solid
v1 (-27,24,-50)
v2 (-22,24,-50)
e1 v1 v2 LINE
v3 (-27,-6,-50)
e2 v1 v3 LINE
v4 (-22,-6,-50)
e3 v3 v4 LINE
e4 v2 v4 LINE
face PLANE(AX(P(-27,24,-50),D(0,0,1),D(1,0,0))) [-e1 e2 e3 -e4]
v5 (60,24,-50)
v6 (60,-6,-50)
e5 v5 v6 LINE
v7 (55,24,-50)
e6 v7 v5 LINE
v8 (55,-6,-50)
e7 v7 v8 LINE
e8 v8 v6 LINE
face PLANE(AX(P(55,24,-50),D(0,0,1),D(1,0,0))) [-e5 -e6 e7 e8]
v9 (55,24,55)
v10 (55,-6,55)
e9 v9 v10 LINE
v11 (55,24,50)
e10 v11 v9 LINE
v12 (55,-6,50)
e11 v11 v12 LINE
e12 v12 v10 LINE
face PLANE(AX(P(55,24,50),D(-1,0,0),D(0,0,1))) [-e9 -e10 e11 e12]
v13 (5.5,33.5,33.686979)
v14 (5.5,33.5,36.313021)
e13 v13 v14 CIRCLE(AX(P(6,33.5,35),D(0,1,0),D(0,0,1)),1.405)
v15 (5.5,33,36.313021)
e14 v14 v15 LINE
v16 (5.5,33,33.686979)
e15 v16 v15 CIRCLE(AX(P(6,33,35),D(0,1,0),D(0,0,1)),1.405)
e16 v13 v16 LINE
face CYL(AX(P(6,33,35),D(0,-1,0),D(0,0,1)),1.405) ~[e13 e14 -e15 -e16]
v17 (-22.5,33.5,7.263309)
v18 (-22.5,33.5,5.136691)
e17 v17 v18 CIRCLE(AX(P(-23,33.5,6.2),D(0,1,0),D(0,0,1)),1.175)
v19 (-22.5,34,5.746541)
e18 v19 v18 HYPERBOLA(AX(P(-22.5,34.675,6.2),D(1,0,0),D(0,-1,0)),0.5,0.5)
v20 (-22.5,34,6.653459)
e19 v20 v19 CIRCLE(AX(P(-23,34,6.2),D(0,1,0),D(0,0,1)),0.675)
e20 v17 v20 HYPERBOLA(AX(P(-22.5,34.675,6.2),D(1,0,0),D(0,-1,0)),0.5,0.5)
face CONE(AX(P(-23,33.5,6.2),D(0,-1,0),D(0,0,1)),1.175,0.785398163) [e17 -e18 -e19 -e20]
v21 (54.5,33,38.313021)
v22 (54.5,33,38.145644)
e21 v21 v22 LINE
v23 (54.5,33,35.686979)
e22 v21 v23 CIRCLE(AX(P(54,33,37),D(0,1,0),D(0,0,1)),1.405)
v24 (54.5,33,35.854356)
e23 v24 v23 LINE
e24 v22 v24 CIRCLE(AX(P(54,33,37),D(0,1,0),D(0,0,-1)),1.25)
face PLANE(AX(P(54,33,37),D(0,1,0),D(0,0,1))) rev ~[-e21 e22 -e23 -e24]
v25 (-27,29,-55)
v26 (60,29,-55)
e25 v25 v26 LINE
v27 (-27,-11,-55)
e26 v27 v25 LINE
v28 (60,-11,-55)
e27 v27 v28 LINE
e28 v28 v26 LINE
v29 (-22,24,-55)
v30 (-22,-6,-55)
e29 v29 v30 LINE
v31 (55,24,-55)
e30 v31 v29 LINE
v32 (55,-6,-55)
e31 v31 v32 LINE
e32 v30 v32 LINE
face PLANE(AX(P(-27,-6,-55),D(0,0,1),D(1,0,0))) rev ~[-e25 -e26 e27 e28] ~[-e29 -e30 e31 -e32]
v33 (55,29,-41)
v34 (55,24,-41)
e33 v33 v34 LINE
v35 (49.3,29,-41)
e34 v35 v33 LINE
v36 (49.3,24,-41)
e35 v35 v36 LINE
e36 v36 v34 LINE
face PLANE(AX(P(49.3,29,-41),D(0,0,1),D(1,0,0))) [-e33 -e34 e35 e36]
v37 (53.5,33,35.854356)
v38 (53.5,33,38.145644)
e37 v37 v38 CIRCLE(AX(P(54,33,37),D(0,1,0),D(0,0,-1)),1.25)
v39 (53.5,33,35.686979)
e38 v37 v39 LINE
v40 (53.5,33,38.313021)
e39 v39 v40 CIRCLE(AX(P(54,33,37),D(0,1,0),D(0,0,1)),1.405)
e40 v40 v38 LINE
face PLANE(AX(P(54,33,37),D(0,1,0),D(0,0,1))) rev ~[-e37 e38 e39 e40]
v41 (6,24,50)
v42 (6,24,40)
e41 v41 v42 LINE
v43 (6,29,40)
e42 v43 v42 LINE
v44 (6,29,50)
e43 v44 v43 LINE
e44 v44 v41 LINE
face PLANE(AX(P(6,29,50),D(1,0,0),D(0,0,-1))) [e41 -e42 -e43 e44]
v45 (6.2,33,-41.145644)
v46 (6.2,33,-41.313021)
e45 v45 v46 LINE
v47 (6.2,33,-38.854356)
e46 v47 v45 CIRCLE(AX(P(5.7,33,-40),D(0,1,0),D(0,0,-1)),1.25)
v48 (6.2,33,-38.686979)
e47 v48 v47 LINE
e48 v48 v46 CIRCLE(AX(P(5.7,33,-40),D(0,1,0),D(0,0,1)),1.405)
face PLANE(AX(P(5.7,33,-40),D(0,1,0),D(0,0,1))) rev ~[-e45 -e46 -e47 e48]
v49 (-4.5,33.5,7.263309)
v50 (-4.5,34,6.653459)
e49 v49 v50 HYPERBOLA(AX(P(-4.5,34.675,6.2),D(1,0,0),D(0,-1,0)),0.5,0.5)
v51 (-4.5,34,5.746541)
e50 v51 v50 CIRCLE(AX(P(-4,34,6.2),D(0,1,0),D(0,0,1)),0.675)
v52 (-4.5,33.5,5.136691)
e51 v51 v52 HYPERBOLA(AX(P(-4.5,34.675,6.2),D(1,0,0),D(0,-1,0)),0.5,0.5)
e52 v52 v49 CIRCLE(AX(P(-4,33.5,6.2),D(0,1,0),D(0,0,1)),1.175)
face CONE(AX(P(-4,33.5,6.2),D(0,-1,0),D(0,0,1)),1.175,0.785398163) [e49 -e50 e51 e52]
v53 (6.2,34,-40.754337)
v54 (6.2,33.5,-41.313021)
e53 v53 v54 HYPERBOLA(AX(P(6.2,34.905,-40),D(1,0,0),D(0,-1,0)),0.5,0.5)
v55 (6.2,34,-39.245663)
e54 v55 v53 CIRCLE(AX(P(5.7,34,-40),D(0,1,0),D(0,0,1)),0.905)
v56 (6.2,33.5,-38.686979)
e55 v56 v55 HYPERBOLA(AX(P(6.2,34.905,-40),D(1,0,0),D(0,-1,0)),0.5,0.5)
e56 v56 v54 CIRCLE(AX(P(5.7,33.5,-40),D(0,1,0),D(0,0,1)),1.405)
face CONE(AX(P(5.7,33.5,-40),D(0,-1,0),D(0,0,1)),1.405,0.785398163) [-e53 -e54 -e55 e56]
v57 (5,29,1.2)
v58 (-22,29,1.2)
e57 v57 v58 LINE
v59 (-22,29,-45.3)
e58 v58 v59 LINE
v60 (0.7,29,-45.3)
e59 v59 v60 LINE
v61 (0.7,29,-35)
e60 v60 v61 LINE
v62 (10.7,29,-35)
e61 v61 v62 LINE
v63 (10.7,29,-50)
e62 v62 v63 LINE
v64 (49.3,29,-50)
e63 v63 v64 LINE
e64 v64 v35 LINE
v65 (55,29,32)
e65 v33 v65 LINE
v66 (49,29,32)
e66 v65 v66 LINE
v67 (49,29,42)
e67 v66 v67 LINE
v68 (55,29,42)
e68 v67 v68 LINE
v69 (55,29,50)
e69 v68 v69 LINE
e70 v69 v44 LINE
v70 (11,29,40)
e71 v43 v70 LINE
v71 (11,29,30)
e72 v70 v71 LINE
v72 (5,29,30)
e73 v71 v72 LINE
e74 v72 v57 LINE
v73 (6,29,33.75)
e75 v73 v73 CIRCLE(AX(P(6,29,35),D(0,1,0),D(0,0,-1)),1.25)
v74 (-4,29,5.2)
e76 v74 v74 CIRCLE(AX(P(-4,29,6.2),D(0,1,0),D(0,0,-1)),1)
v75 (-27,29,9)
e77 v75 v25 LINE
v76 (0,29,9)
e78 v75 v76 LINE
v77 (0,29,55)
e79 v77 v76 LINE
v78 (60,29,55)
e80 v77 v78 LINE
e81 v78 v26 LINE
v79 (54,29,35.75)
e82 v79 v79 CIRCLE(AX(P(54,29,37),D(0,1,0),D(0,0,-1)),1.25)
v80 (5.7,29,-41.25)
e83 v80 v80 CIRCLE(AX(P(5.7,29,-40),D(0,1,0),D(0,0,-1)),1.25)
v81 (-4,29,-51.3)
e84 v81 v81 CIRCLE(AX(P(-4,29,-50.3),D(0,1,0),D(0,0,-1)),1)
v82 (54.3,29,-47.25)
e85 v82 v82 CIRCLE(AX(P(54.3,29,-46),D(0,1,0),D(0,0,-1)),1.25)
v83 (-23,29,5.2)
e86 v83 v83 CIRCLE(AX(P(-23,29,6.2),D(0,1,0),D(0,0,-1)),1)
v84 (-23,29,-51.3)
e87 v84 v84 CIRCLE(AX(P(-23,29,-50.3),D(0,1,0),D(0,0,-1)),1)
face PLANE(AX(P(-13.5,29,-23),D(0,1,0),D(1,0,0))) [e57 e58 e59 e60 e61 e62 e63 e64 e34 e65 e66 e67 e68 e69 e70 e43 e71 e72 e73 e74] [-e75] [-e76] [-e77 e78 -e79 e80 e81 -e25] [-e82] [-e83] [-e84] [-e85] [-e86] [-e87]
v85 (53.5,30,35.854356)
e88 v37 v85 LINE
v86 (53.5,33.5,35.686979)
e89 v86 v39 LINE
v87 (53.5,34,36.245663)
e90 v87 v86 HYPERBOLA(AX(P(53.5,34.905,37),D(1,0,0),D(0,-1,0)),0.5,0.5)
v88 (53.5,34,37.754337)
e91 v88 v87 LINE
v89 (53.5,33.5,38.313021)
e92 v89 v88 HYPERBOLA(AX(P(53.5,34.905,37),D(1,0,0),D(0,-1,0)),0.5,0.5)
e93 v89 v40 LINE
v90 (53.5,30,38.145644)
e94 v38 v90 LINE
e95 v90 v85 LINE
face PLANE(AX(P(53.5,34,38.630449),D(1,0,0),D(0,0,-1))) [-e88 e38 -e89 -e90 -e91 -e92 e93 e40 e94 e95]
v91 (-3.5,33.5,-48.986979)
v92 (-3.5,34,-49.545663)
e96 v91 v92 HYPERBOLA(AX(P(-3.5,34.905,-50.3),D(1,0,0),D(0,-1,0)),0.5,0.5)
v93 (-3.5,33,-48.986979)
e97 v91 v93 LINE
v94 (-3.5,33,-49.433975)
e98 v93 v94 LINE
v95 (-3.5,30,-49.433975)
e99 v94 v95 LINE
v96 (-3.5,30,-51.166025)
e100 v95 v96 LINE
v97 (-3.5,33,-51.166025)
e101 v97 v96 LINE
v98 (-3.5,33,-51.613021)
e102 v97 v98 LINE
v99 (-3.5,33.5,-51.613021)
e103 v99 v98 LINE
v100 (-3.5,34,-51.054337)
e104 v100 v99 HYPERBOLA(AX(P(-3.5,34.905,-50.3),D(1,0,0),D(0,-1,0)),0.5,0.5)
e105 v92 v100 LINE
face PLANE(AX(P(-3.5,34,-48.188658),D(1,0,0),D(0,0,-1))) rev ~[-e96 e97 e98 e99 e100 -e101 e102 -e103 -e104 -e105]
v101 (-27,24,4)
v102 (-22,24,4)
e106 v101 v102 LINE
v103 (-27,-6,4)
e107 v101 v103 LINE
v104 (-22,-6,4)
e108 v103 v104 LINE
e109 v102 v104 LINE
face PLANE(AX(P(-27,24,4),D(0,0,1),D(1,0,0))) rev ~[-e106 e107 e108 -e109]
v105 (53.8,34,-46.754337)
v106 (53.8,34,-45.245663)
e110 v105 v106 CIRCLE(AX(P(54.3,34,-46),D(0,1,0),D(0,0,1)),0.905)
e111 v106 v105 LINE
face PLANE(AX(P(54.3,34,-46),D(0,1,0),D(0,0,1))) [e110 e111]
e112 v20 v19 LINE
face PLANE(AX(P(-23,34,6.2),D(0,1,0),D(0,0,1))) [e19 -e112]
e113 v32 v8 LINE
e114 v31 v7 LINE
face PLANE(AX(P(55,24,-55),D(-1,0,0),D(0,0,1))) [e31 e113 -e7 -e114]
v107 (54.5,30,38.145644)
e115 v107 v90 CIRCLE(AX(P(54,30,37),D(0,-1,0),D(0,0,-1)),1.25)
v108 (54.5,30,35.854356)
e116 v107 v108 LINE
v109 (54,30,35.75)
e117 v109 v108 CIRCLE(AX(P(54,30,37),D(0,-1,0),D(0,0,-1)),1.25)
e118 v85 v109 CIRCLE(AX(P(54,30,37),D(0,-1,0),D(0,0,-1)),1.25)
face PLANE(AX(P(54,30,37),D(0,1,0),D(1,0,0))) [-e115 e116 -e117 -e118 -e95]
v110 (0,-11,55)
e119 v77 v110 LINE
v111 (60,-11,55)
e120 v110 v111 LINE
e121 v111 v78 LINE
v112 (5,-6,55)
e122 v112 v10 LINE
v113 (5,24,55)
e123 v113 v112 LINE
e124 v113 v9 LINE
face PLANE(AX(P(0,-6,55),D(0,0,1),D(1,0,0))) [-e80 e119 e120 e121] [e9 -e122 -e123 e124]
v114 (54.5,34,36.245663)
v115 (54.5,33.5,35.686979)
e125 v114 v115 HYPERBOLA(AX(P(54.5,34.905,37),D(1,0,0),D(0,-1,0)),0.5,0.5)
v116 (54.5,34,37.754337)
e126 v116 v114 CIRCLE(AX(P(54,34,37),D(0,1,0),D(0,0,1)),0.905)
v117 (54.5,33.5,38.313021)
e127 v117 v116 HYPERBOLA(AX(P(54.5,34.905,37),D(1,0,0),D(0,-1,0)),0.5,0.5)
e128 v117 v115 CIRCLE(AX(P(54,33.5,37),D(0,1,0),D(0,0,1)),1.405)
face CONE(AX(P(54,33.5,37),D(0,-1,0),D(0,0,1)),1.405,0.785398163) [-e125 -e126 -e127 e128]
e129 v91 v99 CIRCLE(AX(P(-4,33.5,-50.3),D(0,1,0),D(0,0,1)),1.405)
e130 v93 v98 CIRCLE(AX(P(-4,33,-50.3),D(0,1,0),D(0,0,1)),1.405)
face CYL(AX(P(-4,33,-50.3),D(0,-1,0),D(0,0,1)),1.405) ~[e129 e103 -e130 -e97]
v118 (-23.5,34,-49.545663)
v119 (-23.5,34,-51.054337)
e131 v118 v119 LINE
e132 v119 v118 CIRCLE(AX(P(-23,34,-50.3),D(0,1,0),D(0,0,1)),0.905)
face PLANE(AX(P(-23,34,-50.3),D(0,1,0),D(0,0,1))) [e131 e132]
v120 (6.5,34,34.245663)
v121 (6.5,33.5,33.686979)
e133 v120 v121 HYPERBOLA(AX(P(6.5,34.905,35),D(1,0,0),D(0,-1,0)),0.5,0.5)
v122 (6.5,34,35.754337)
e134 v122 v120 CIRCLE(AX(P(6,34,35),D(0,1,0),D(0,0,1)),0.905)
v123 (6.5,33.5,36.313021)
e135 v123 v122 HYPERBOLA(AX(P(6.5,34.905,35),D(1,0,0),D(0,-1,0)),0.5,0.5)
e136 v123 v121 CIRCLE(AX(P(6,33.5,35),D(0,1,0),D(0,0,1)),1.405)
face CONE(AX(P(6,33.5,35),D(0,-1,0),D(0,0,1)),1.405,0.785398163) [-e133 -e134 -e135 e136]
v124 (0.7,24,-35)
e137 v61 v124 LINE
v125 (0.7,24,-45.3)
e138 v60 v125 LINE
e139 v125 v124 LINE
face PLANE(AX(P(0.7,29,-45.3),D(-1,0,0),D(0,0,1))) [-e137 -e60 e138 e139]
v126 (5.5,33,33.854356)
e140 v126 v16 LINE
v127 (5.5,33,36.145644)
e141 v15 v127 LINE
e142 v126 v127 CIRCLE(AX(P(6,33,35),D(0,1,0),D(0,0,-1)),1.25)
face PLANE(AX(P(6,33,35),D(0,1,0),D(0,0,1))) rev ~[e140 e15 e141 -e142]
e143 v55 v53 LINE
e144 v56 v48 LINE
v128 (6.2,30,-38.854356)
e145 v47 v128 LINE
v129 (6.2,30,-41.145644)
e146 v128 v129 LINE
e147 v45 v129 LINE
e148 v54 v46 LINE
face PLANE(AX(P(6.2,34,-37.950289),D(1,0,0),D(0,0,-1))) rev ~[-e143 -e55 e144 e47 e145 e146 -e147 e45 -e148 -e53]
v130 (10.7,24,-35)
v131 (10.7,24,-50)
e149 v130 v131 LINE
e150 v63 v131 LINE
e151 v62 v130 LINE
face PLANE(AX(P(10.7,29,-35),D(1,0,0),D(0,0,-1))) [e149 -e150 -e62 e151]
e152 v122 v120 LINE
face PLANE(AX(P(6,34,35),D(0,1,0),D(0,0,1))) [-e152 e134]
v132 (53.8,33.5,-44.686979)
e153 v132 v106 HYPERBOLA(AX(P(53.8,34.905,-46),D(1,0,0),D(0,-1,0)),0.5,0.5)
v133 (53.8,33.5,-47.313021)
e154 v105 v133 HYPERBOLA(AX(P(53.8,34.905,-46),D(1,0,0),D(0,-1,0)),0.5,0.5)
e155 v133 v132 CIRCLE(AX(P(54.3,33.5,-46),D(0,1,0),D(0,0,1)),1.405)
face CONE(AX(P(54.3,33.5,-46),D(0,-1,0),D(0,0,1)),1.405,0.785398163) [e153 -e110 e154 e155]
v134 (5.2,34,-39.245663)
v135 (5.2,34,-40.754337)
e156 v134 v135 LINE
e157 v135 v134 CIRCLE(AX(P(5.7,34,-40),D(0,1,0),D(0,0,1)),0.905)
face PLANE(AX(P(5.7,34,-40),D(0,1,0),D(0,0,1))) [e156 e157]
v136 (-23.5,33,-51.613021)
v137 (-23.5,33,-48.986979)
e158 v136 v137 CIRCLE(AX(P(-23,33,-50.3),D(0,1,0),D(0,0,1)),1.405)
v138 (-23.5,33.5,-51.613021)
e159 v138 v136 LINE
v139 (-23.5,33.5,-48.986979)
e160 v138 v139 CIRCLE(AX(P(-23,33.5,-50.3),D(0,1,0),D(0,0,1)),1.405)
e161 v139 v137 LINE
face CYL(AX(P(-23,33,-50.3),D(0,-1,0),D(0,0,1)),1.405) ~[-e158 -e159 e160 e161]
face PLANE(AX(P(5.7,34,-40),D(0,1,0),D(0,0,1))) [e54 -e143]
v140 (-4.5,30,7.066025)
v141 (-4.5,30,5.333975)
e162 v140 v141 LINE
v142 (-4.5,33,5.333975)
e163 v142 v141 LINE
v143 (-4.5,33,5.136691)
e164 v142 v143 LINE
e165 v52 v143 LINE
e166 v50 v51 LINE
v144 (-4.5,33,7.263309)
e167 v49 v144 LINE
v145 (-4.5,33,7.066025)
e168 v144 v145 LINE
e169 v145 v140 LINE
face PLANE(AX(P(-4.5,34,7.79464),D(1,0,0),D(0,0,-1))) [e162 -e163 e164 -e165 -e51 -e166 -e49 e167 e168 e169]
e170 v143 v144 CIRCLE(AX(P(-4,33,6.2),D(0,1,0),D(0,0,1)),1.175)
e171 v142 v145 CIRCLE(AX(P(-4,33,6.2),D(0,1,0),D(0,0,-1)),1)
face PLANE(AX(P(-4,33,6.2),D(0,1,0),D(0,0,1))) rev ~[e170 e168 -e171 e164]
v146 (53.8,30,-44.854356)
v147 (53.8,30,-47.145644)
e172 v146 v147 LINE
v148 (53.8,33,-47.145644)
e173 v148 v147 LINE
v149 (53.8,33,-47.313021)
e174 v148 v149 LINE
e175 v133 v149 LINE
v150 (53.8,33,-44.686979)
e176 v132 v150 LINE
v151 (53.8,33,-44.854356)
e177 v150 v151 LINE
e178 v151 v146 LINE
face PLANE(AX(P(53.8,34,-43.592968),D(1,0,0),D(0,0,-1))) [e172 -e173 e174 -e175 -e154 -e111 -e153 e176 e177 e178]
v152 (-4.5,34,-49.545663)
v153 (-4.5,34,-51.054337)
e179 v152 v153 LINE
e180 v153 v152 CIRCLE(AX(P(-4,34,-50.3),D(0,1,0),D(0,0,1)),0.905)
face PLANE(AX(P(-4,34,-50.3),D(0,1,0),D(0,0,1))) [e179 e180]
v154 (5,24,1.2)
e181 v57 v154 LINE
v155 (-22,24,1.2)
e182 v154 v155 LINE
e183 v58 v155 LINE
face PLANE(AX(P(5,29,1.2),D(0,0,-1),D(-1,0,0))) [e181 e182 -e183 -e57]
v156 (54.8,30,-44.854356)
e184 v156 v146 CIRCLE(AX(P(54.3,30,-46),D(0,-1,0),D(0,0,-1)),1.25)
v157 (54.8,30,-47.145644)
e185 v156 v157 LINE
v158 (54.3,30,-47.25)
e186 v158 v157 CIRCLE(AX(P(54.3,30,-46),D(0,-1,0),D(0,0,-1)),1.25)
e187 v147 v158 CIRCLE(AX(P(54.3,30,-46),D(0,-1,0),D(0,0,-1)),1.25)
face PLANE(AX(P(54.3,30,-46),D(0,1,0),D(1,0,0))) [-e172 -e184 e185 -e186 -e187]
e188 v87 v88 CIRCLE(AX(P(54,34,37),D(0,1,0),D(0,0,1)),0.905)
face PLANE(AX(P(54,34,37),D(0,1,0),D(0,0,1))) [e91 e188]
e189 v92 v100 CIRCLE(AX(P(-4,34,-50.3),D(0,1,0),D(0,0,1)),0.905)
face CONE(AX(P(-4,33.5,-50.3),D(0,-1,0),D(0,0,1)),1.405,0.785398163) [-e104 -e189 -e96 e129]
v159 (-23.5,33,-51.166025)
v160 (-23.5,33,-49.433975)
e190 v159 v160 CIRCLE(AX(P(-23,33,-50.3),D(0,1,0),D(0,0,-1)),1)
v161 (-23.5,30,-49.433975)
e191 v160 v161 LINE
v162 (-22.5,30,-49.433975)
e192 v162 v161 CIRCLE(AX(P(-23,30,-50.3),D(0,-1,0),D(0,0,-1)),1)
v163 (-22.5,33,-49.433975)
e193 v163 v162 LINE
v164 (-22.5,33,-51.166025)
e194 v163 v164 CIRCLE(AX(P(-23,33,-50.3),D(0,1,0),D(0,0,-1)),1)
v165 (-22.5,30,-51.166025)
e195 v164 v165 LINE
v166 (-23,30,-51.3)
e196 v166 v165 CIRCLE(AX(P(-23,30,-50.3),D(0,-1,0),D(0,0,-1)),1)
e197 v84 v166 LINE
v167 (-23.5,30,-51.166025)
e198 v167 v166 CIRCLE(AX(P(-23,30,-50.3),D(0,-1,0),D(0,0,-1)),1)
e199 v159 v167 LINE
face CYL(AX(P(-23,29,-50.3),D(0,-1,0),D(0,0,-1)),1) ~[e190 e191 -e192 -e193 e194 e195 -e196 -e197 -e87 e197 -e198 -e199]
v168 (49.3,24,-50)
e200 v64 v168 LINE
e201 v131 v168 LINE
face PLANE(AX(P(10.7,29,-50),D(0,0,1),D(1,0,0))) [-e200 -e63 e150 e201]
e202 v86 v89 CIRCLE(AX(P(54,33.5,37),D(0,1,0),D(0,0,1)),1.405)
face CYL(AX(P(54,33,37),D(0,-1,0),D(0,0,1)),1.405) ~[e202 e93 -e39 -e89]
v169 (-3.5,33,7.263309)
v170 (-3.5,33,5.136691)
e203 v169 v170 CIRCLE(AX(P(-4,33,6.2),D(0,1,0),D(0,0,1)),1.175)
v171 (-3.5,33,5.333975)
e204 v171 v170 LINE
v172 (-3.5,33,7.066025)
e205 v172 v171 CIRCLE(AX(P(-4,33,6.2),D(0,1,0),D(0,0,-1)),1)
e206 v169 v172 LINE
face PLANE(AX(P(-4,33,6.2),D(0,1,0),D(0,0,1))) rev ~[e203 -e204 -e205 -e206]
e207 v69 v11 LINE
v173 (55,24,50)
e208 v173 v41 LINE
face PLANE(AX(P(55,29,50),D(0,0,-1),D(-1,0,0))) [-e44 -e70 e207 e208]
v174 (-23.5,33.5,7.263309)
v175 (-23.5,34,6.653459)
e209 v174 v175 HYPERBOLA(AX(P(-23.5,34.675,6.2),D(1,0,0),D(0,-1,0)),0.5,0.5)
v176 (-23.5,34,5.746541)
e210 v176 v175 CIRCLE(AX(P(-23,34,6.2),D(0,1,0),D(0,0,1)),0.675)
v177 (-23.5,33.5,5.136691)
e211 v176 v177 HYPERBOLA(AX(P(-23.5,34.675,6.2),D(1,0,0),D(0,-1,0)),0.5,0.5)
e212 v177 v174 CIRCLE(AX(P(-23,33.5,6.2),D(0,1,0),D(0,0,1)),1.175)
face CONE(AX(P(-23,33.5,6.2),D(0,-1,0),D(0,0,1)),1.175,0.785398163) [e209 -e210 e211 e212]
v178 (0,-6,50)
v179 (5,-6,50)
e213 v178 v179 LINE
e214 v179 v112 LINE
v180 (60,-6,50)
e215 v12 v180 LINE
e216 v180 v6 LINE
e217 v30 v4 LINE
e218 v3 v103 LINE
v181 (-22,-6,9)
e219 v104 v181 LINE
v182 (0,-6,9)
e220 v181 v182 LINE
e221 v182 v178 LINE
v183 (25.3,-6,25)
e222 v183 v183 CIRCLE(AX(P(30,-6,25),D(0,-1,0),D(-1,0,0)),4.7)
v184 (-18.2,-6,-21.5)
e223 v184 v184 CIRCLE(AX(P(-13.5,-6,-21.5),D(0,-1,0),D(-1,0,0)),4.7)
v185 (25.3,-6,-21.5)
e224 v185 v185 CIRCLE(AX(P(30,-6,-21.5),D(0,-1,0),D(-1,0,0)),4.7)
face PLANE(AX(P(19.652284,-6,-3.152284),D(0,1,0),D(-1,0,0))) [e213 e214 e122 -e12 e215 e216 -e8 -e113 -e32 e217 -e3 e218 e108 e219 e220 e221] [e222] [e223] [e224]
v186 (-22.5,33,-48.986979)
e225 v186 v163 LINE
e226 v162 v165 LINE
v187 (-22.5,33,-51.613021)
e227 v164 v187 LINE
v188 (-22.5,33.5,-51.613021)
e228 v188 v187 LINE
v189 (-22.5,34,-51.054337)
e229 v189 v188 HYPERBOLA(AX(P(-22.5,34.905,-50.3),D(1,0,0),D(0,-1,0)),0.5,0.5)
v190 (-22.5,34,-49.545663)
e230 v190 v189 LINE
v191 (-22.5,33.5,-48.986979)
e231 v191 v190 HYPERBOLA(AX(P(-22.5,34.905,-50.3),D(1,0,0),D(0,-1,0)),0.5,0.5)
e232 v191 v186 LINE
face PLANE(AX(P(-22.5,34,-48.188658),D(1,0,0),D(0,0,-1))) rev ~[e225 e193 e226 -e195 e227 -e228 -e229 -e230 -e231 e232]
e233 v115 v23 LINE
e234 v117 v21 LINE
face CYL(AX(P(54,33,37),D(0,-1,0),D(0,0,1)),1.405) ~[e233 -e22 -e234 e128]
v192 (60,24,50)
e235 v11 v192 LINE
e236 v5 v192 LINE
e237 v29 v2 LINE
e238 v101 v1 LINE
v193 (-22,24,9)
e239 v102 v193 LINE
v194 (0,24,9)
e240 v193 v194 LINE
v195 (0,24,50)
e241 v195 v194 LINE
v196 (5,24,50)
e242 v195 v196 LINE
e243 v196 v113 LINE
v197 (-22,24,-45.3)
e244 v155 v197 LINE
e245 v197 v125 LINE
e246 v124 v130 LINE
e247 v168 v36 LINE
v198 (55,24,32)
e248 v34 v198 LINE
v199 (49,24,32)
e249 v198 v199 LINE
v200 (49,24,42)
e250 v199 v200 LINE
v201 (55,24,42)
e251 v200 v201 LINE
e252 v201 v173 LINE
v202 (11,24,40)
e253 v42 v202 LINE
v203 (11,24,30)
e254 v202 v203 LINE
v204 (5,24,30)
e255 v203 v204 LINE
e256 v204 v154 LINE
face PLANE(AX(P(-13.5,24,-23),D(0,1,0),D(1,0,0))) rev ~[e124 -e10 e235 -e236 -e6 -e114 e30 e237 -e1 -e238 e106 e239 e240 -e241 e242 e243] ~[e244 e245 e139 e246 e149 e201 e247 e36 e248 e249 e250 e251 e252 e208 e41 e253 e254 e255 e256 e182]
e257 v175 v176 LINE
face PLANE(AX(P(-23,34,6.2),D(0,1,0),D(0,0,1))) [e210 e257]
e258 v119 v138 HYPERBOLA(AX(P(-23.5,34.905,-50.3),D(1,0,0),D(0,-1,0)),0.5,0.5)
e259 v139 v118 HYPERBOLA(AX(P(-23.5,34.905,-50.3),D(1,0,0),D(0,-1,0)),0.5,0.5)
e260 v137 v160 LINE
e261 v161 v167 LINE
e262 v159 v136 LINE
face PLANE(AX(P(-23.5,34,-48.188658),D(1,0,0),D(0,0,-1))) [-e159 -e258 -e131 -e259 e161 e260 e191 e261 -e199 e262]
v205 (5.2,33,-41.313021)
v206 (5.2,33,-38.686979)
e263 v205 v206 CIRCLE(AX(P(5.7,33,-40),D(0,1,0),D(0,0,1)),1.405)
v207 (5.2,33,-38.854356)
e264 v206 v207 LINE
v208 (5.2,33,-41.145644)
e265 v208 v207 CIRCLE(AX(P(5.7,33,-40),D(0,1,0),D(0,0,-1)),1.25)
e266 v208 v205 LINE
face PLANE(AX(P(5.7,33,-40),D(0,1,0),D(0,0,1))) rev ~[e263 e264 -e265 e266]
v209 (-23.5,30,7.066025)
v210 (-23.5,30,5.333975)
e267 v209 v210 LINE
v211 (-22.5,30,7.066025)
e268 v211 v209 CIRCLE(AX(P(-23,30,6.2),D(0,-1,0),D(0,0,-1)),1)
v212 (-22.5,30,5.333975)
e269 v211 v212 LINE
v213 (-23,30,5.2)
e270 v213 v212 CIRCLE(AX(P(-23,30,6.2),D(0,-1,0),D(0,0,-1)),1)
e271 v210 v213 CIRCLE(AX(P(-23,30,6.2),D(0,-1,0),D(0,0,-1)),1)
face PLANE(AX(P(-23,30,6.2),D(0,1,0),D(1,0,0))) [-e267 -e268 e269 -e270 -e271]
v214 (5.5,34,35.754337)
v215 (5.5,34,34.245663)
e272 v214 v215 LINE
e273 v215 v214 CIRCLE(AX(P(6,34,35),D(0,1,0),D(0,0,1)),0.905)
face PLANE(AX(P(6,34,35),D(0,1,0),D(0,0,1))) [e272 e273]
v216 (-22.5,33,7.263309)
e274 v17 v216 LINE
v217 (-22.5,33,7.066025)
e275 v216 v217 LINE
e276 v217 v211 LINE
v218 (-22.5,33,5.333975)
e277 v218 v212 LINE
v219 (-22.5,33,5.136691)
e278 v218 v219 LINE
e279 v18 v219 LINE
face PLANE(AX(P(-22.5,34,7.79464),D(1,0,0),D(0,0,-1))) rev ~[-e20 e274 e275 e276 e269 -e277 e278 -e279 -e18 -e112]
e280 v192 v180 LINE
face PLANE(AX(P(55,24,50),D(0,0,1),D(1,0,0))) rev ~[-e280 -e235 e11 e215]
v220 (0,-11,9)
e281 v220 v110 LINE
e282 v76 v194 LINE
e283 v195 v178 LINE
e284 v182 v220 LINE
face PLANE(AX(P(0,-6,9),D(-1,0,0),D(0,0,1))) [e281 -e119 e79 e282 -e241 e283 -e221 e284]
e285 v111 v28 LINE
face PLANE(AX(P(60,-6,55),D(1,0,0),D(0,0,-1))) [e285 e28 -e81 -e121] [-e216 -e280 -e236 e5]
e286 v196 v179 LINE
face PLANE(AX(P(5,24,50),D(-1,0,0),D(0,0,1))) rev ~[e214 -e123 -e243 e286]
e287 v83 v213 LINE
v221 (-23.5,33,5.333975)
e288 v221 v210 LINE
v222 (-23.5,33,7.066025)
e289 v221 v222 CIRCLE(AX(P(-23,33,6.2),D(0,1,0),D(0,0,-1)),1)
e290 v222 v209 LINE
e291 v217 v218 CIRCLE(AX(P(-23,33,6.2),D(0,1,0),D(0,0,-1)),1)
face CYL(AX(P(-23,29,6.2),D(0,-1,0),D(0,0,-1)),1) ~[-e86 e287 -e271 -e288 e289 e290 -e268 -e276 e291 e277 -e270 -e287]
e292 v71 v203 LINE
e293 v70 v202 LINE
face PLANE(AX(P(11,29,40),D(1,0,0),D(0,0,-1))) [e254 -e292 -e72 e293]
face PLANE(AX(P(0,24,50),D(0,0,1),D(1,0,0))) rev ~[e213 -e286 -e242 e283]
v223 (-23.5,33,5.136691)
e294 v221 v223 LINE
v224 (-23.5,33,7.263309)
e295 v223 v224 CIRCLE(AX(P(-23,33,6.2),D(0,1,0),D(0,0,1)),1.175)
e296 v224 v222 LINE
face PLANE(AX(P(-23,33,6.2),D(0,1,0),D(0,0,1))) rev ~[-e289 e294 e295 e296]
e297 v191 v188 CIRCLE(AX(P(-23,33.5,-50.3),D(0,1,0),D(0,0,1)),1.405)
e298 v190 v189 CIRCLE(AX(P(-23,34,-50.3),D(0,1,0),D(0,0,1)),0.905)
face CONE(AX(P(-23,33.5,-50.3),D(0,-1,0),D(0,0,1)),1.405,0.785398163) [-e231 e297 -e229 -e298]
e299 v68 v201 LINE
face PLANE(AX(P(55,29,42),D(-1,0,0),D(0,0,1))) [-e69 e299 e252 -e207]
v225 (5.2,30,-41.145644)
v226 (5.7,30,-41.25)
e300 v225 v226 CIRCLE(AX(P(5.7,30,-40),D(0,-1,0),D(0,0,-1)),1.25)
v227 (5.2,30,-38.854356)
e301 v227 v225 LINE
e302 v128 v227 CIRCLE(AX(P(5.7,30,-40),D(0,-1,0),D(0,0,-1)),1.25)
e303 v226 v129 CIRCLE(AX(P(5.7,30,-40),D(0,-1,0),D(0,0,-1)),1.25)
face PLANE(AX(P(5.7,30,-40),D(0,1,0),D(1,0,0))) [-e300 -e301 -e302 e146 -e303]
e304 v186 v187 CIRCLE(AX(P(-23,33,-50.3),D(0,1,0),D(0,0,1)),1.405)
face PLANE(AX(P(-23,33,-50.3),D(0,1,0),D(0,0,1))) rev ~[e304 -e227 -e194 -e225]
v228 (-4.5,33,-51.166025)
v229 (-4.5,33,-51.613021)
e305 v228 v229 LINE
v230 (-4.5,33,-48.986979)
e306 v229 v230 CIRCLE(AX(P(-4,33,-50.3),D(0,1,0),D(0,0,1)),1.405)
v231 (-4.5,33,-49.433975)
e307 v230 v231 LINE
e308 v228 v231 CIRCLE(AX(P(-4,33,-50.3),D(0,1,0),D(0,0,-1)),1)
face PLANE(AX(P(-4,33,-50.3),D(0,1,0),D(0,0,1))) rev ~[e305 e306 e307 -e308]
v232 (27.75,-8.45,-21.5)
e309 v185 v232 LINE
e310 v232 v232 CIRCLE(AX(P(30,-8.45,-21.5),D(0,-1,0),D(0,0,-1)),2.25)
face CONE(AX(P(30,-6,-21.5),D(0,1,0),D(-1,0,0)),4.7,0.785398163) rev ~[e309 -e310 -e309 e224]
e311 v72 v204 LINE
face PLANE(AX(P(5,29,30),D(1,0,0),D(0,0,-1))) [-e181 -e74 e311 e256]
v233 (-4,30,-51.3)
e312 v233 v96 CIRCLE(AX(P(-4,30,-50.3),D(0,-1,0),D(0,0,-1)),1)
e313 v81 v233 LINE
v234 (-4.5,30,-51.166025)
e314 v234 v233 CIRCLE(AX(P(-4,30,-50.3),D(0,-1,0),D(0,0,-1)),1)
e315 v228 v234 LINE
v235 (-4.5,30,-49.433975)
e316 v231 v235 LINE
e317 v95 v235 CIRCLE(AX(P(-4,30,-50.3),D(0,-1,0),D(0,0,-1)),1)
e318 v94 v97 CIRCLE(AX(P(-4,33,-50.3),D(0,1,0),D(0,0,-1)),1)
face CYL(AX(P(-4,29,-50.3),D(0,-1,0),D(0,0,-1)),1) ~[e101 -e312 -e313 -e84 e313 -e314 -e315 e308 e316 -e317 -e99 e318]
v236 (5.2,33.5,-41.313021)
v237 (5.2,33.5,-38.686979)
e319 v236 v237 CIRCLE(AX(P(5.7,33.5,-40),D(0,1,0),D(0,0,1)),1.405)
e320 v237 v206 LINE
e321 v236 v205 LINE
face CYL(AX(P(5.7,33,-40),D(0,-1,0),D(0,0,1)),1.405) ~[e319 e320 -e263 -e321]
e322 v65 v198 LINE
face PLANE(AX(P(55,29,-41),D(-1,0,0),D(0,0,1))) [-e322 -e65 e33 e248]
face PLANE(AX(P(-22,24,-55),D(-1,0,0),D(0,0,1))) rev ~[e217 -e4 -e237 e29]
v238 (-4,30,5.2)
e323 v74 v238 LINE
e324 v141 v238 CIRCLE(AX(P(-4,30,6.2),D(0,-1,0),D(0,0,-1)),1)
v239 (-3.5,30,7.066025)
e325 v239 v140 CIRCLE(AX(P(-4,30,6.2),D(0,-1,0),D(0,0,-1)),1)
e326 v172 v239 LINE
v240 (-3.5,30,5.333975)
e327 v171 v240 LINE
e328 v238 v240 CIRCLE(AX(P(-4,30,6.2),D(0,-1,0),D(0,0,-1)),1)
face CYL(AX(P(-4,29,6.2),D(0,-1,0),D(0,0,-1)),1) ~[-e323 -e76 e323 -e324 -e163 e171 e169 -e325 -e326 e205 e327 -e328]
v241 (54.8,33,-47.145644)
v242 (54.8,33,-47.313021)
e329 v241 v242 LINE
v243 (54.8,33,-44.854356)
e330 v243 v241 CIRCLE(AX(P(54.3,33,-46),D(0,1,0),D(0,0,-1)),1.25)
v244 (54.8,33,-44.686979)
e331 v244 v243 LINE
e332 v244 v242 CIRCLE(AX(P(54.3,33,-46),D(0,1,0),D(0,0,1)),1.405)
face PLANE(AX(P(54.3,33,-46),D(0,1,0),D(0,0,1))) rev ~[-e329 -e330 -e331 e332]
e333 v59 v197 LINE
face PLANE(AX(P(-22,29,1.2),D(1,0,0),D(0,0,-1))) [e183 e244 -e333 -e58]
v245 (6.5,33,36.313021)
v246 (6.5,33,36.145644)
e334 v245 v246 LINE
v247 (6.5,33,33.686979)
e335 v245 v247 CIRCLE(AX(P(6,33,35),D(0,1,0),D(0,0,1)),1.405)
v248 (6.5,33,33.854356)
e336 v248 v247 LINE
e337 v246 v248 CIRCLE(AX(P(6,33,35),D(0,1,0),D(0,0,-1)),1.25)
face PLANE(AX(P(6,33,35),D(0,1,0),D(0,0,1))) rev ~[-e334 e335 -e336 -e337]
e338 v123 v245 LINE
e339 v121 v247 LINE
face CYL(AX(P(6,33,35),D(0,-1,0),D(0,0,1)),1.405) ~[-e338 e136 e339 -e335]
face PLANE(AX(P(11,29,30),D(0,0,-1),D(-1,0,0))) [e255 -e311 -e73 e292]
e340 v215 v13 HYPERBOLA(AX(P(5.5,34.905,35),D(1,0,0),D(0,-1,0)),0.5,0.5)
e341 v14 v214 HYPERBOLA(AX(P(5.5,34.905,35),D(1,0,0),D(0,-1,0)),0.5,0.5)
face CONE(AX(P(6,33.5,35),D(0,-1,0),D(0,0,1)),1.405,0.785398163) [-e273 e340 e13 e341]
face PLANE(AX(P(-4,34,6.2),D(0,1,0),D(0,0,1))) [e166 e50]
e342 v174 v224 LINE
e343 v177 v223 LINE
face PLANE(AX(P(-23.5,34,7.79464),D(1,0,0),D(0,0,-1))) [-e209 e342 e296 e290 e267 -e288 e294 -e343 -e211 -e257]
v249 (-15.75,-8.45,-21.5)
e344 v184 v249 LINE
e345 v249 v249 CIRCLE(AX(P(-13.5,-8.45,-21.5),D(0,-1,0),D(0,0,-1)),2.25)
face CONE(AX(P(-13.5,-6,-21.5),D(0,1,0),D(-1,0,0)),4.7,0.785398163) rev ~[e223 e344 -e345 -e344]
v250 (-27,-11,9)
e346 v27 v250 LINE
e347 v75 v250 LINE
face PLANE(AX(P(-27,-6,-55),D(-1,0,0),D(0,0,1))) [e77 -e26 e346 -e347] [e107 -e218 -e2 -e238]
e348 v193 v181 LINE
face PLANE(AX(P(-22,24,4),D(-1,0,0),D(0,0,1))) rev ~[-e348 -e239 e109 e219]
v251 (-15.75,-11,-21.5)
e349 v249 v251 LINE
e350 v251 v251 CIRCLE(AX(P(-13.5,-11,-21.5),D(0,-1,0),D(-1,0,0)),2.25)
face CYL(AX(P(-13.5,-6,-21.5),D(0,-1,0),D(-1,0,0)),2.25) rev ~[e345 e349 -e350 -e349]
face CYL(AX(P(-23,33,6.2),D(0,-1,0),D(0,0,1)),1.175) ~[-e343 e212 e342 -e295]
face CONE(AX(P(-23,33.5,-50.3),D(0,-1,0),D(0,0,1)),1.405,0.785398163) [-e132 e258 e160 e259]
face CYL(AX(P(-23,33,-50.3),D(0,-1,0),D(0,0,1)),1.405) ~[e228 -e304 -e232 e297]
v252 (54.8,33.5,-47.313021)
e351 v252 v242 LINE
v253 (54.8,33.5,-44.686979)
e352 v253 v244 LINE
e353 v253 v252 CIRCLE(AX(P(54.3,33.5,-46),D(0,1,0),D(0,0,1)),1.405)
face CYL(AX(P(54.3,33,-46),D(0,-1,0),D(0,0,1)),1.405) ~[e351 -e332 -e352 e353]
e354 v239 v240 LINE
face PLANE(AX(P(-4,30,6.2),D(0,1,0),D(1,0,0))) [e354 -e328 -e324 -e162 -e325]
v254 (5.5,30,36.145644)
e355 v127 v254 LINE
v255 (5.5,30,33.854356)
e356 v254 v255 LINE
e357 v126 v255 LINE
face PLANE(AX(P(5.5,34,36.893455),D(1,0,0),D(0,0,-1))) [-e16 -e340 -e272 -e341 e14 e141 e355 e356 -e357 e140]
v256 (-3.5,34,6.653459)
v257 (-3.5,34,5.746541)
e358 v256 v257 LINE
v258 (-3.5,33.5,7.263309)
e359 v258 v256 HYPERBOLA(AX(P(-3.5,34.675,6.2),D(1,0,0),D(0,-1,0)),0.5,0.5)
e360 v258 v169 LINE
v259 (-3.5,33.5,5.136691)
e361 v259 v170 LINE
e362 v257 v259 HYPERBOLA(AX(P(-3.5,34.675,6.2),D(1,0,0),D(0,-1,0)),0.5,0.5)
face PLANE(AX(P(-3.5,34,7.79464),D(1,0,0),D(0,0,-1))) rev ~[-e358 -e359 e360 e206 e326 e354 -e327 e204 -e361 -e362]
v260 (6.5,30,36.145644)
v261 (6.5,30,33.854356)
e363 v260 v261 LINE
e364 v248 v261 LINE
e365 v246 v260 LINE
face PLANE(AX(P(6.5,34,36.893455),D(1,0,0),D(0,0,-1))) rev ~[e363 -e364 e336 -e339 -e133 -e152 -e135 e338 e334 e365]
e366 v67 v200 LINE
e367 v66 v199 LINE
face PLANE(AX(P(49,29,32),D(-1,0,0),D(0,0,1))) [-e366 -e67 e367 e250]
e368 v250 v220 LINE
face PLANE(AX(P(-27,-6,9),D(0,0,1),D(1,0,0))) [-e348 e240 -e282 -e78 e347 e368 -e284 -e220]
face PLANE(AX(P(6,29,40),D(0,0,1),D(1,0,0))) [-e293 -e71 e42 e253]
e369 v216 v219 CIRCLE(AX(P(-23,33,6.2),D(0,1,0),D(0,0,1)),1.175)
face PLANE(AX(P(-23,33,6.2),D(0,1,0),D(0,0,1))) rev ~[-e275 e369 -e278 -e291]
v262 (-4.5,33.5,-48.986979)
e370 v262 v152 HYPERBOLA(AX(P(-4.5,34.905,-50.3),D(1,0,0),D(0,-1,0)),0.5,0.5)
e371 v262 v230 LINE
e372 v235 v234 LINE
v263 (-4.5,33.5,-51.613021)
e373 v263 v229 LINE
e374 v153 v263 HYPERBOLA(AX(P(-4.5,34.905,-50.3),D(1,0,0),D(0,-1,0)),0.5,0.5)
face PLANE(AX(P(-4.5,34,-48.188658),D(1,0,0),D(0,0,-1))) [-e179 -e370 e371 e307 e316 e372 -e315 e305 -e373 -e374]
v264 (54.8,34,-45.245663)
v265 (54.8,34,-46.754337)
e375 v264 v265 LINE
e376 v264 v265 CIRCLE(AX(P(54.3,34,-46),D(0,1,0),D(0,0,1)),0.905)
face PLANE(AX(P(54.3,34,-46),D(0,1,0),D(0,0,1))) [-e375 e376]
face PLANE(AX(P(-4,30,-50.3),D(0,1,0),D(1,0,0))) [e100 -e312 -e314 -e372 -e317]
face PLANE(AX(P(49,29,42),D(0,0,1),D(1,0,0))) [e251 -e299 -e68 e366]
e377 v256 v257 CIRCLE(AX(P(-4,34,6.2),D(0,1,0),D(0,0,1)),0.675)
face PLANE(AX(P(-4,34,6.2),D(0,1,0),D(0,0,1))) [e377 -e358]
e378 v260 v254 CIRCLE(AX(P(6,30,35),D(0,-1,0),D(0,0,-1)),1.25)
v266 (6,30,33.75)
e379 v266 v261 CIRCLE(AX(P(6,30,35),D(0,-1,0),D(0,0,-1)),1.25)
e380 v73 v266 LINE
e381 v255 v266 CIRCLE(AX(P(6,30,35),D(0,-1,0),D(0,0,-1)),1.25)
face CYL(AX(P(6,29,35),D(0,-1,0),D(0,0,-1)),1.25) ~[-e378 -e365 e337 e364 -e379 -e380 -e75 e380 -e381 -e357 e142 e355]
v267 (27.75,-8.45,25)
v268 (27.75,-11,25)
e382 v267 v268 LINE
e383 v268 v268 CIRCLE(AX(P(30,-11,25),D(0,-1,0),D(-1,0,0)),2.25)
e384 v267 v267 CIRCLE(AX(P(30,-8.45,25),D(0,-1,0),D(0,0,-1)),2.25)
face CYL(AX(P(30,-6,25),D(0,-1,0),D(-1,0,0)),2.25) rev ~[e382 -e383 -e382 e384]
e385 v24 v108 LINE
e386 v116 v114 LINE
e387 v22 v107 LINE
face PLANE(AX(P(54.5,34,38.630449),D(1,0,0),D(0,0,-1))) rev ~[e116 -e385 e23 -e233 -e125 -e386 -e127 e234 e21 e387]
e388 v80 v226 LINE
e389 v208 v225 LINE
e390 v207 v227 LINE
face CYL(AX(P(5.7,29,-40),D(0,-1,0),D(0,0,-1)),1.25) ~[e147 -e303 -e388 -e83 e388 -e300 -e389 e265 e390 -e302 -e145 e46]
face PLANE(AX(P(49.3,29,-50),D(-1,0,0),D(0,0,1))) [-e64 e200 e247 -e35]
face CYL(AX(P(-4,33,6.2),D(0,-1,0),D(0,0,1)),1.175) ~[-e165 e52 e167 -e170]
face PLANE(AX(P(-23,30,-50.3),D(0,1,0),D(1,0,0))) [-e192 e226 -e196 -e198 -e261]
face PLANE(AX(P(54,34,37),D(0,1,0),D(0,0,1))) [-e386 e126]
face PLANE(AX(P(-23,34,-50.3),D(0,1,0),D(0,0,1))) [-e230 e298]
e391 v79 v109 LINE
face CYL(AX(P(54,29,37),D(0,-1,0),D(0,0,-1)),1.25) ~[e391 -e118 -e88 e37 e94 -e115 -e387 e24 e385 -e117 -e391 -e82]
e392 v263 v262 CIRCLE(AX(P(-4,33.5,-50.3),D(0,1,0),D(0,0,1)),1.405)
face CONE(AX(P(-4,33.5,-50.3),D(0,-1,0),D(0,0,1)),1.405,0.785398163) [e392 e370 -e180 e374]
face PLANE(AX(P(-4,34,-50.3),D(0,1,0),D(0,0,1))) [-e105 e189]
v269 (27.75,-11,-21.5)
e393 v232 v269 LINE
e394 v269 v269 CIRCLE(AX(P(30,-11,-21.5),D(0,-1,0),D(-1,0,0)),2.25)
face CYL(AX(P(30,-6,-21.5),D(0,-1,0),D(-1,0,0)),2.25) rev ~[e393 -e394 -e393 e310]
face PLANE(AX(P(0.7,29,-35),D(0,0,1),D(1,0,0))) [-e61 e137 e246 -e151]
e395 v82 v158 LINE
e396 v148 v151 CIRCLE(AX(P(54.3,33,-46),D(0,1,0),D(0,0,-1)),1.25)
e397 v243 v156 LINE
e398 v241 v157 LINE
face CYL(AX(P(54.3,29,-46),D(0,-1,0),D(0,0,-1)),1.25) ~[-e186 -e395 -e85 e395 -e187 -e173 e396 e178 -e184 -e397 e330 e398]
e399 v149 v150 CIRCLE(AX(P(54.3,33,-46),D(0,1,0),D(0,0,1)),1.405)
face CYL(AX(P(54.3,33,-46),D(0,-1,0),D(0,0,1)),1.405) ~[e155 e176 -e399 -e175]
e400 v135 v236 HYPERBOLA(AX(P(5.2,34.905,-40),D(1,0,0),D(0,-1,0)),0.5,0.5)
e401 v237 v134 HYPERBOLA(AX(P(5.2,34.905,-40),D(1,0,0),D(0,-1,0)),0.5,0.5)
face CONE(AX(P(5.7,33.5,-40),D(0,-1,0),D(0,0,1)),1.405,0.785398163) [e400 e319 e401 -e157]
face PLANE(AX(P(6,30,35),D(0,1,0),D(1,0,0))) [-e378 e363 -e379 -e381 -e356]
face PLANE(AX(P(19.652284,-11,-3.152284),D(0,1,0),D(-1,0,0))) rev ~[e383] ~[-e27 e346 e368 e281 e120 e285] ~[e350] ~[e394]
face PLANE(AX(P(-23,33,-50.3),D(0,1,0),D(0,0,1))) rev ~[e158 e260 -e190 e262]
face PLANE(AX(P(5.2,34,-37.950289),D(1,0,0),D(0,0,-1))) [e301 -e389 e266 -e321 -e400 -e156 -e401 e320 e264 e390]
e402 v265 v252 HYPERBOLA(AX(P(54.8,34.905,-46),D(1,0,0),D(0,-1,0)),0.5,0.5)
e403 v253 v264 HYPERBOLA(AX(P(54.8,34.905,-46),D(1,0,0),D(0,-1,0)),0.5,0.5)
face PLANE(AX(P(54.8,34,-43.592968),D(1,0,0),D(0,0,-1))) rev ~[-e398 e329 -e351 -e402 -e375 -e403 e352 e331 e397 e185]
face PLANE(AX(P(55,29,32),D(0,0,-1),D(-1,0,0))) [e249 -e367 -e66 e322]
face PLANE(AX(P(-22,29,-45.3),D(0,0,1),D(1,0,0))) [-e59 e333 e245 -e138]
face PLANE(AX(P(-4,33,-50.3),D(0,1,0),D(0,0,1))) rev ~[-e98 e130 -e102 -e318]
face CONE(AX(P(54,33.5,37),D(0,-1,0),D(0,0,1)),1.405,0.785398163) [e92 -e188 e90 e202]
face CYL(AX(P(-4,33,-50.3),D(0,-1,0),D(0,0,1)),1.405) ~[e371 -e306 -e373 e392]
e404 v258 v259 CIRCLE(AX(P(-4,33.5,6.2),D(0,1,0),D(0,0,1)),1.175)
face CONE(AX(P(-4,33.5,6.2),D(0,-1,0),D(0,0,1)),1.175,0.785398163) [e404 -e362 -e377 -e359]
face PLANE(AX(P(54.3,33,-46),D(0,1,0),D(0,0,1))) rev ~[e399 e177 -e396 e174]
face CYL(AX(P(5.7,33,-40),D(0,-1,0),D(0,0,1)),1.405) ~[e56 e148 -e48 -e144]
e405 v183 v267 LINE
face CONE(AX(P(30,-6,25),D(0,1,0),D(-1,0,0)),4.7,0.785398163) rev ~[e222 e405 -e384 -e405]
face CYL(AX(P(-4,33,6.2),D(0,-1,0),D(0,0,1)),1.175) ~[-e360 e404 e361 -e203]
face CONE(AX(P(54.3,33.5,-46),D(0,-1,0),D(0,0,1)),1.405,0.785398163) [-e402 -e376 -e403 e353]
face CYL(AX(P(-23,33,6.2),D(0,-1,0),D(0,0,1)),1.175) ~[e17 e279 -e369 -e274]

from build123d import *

# Parameters (mm, degrees)
BOSS_EXTRUDE1_DEPTH                             = 15
SKETCH2_W                                       = 60
SKETCH2_H                                       = 110
BOSS_EXTRUDE2_DEPTH                             = 5
SKETCH3_R                                       = 1.25
BOSS_EXTRUDE3_DEPTH                             = 4
SKETCH4_R                                       = 1.405
BOSS_EXTRUDE4_DEPTH                             = 1
CHAMFER1_SIZE                                   = 0.5
SKETCH5_W                                       = 1
SKETCH5_H                                       = 3.260897444
CUT_EXTRUDE1_DEPTH                              = 4
SKETCH7_R                                       = 1.25
BOSS_EXTRUDE5_DEPTH                             = 4
SKETCH8_R                                       = 1.405
BOSS_EXTRUDE6_DEPTH                             = 1
CHAMFER2_SIZE                                   = 0.5
SKETCH9_W                                       = 1
SKETCH9_H                                       = 4.099421272
SKETCH9_H_2                                     = 4.814063164
CUT_EXTRUDE2_DEPTH                              = 4
SKETCH10_R                                      = 1.25
BOSS_EXTRUDE7_DEPTH                             = 4
SKETCH11_R                                      = 1.405
BOSS_EXTRUDE8_DEPTH                             = 1
CHAMFER3_SIZE                                   = 0.5
SKETCH12_W                                      = 1
SKETCH12_H                                      = 3.78691003
CUT_EXTRUDE3_DEPTH                              = 4
SKETCH14_W                                      = 27
SKETCH14_H                                      = 64
BOSS_EXTRUDE9_DEPTH                             = 5
CUT_EXTRUDE6_DEPTH                              = 85.858706094
SKETCH15_R                                      = 1
BOSS_EXTRUDE10_DEPTH                            = 4
SKETCH16_R                                      = 1.175
BOSS_EXTRUDE11_DEPTH                            = 1
CHAMFER4_SIZE                                   = 0.5
SKETCH17_W                                      = 1
SKETCH17_H                                      = 3.189279986
CUT_EXTRUDE7_DEPTH                              = 4
SKETCH20_R                                      = 1
BOSS_EXTRUDE12_DEPTH                            = 4
SKETCH21_R                                      = 1.405
BOSS_EXTRUDE13_DEPTH                            = 1
CHAMFER5_SIZE                                   = 0.5
SKETCH23_W                                      = 1
SKETCH23_H                                      = 4.222684002
CUT_EXTRUDE8_DEPTH                              = 4
CUT_EXTRUDE9_DEPTH                              = 82.547532152
SKETCH26_W                                      = 5
SKETCH26_H                                      = 5
BOSS_EXTRUDE15_DEPTH                            = 30
BOSS_EXTRUDE16_DEPTH                            = 5
CSK_FOR_M4_FLAT_HEAD_MACHINE_SCREW2_D           = 4.5
CSK_FOR_M4_FLAT_HEAD_MACHINE_SCREW2_DEPTH       = 5
CSK_FOR_M4_FLAT_HEAD_MACHINE_SCREW2_CSINK_D     = 9.4
CSK_FOR_M4_FLAT_HEAD_MACHINE_SCREW2_CSINK_ANGLE = 90
CSK_FOR_M4_FLAT_HEAD_MACHINE_SCREW2_TIP         = 1.351936393


with BuildPart() as part:
    # Sketch1 → Boss-Extrude1 (new, symmetric)
    with BuildSketch(Plane.XY):
        Polygon((0, 0), (10, 0), (55, 2.358350068), (54.738678842, 7.344654806), (10, 5), (5, 5), (5, 24), (60, 24), (60, 29), (0, 29), align=None)
    extrude(amount=BOSS_EXTRUDE1_DEPTH, both=True)

    # Sketch2 → Boss-Extrude2 (add)
    with BuildSketch(Plane(origin=(0, 29, 0), x_dir=(1, 0, 0), z_dir=(0, 1, 0))):
        with Locations((30, 0)):
            Rectangle(SKETCH2_W, SKETCH2_H)
    extrude(amount=-BOSS_EXTRUDE2_DEPTH)

    # Sketch3 → Boss-Extrude3 (add)
    with BuildSketch(Plane(origin=(0, 29, 0), x_dir=(1, 0, 0), z_dir=(0, 1, 0))):
        with Locations(Location((54, -37, 0), (0, 0, 90))):
            Circle(SKETCH3_R)
    extrude(amount=BOSS_EXTRUDE3_DEPTH)

    # Sketch4 → Boss-Extrude4 (add)
    with BuildSketch(Plane(origin=(0, 33, 0), x_dir=(1, 0, 0), z_dir=(0, 1, 0))):
        with Locations(Location((54, -37, 0), (0, 0, 270))):
            Circle(SKETCH4_R)
    extrude(amount=BOSS_EXTRUDE4_DEPTH)

    # Chamfer1
    chamfer1_edges = [part.edges().sort_by_distance(p)[0] for p in [
        (54, 34, 35.595),
    ]]
    chamfer(chamfer1_edges, length=CHAMFER1_SIZE)

    # Sketch5 → Cut-Extrude1 (cut)
    with BuildSketch(Plane(origin=(0, 34, 0), x_dir=(1, 0, 0), z_dir=(0, 1, 0))):
        with Locations((54, -37)):
            Rectangle(SKETCH5_W, SKETCH5_H)
    extrude(amount=-CUT_EXTRUDE1_DEPTH, mode=Mode.SUBTRACT)

    # Sketch7 → Boss-Extrude5 (add)
    with BuildSketch(Plane(origin=(0, 29, 0), x_dir=(1, 0, 0), z_dir=(0, 1, 0))):
        with Locations(Location((54.3, 46, 0), (0, 0, 90))):
            Circle(SKETCH7_R)
        with Locations(Location((5.7, 40, 0), (0, 0, 90))):
            Circle(SKETCH7_R)
    extrude(amount=BOSS_EXTRUDE5_DEPTH)

    # Sketch8 → Boss-Extrude6 (add)
    with BuildSketch(Plane(origin=(0, 33, 0), x_dir=(1, 0, 0), z_dir=(0, 1, 0))):
        with Locations(Location((5.7, 40, 0), (0, 0, 270))):
            Circle(SKETCH8_R)
        with Locations(Location((54.3, 46, 0), (0, 0, 270))):
            Circle(SKETCH8_R)
    extrude(amount=BOSS_EXTRUDE6_DEPTH)

    # Chamfer2
    chamfer2_edges = [part.edges().sort_by_distance(p)[0] for p in [
        (5.7, 34, -41.405),
        (54.3, 34, -47.405),
    ]]
    chamfer(chamfer2_edges, length=CHAMFER2_SIZE)

    # Sketch9 → Cut-Extrude2 (cut)
    with BuildSketch(Plane(origin=(0, 34, 0), x_dir=(1, 0, 0), z_dir=(0, 1, 0))):
        with Locations((5.7, 40)):
            Rectangle(SKETCH9_W, SKETCH9_H)
        with Locations((54.3, 46)):
            Rectangle(SKETCH9_W, SKETCH9_H_2)
    extrude(amount=-CUT_EXTRUDE2_DEPTH, mode=Mode.SUBTRACT)

    # Sketch10 → Boss-Extrude7 (add)
    with BuildSketch(Plane(origin=(0, 29, 0), x_dir=(1, 0, 0), z_dir=(0, 1, 0))):
        with Locations(Location((6, -35, 0), (0, 0, 90))):
            Circle(SKETCH10_R)
    extrude(amount=BOSS_EXTRUDE7_DEPTH)

    # Sketch11 → Boss-Extrude8 (add)
    with BuildSketch(Plane(origin=(0, 33, 0), x_dir=(1, 0, 0), z_dir=(0, 1, 0))):
        with Locations(Location((6, -35, 0), (0, 0, 270))):
            Circle(SKETCH11_R)
    extrude(amount=BOSS_EXTRUDE8_DEPTH)

    # Chamfer3
    chamfer3_edges = [part.edges().sort_by_distance(p)[0] for p in [
        (6, 34, 33.595),
    ]]
    chamfer(chamfer3_edges, length=CHAMFER3_SIZE)

    # Sketch12 → Cut-Extrude3 (cut)
    with BuildSketch(Plane(origin=(0, 34, 0), x_dir=(1, 0, 0), z_dir=(0, 1, 0))):
        with Locations((6, -35)):
            Rectangle(SKETCH12_W, SKETCH12_H)
    extrude(amount=-CUT_EXTRUDE3_DEPTH, mode=Mode.SUBTRACT)

    # Sketch14 → Boss-Extrude9 (add)
    with BuildSketch(Plane(origin=(0, 29, 0), x_dir=(1, 0, 0), z_dir=(0, 1, 0))):
        with Locations((-13.5, 23)):
            Rectangle(SKETCH14_W, SKETCH14_H)
    extrude(amount=-BOSS_EXTRUDE9_DEPTH)

    # Sketch13 → Cut-Extrude6 (cut, through all)
    with BuildSketch(Plane.XZ.offset(-24)):
        Polygon((0, 15), (0, -15), (0, -55), (60, -55), (60, 55), (0, 55), align=None)
    extrude(amount=CUT_EXTRUDE6_DEPTH, mode=Mode.SUBTRACT)

    # Sketch15 → Boss-Extrude10 (add)
    with BuildSketch(Plane(origin=(0, 29, 0), x_dir=(1, 0, 0), z_dir=(0, 1, 0))):
        with Locations(Location((-23, -6.2, 0), (0, 0, 90))):
            Circle(SKETCH15_R)
        with Locations(Location((-4, -6.2, 0), (0, 0, 90))):
            Circle(SKETCH15_R)
    extrude(amount=BOSS_EXTRUDE10_DEPTH)

    # Sketch16 → Boss-Extrude11 (add)
    with BuildSketch(Plane(origin=(0, 33, 0), x_dir=(1, 0, 0), z_dir=(0, 1, 0))):
        with Locations(Location((-23, -6.2, 0), (0, 0, 270))):
            Circle(SKETCH16_R)
        with Locations(Location((-4, -6.2, 0), (0, 0, 270))):
            Circle(SKETCH16_R)
    extrude(amount=BOSS_EXTRUDE11_DEPTH)

    # Chamfer4
    chamfer4_edges = [part.edges().sort_by_distance(p)[0] for p in [
        (-23, 34, 5.025),
        (-4, 34, 5.025),
    ]]
    chamfer(chamfer4_edges, length=CHAMFER4_SIZE)

    # Sketch17 → Cut-Extrude7 (cut)
    with BuildSketch(Plane(origin=(0, 34, 0), x_dir=(1, 0, 0), z_dir=(0, 1, 0))):
        with Locations((-23, -6.2)):
            Rectangle(SKETCH17_W, SKETCH17_H)
        with Locations((-4, -6.2)):
            Rectangle(SKETCH17_W, SKETCH17_H)
    extrude(amount=-CUT_EXTRUDE7_DEPTH, mode=Mode.SUBTRACT)

    # Sketch20 → Boss-Extrude12 (add)
    with BuildSketch(Plane(origin=(0, 29, 0), x_dir=(1, 0, 0), z_dir=(0, 1, 0))):
        with Locations(Location((-23, 50.3, 0), (0, 0, 90))):
            Circle(SKETCH20_R)
        with Locations(Location((-4, 50.3, 0), (0, 0, 90))):
            Circle(SKETCH20_R)
    extrude(amount=BOSS_EXTRUDE12_DEPTH)

    # Sketch21 → Boss-Extrude13 (add)
    with BuildSketch(Plane(origin=(0, 33, 0), x_dir=(1, 0, 0), z_dir=(0, 1, 0))):
        with Locations(Location((-23, 50.3, 0), (0, 0, 270))):
            Circle(SKETCH21_R)
        with Locations(Location((-4, 50.3, 0), (0, 0, 270))):
            Circle(SKETCH21_R)
    extrude(amount=BOSS_EXTRUDE13_DEPTH)

    # Chamfer5
    chamfer5_edges = [part.edges().sort_by_distance(p)[0] for p in [
        (-23, 34, -51.705),
        (-4, 34, -51.705),
    ]]
    chamfer(chamfer5_edges, length=CHAMFER5_SIZE)

    # Sketch23 → Cut-Extrude8 (cut)
    with BuildSketch(Plane(origin=(0, 34, 0), x_dir=(1, 0, 0), z_dir=(0, 1, 0))):
        with Locations((-23, 50.3)):
            Rectangle(SKETCH23_W, SKETCH23_H)
        with Locations((-4, 50.3)):
            Rectangle(SKETCH23_W, SKETCH23_H)
    extrude(amount=-CUT_EXTRUDE8_DEPTH, mode=Mode.SUBTRACT)

    # Sketch18 → Cut-Extrude9 (cut, through all)
    with BuildSketch(Plane(origin=(0, 29, 0), x_dir=(1, 0, 0), z_dir=(0, 1, 0))):
        Polygon((-22, 45.3), (0.7, 45.3), (0.7, 35), (10.7, 35), (10.7, 50), (49.3, 50), (49.3, 41), (55, 41), (55, -32), (49, -32), (49, -42), (55, -42), (55, -50), (6, -50), (6, -40), (11, -40), (11, -30), (5, -30), (5, -1.2), (-22, -1.2), align=None)
    extrude(amount=-CUT_EXTRUDE9_DEPTH, mode=Mode.SUBTRACT)

    # Sketch26 → Boss-Extrude15 (add)
    with BuildSketch(Plane.XZ.offset(-24)):
        with Locations((2.5, 52.5)):
            Rectangle(SKETCH26_W, SKETCH26_H)
        with Locations((57.5, 52.5)):
            Rectangle(SKETCH26_W, SKETCH26_H)
        with Locations((57.5, -52.5)):
            Rectangle(SKETCH26_W, SKETCH26_H)
        with Locations((-24.5, -52.5)):
            Rectangle(SKETCH26_W, SKETCH26_H)
        with Locations((-24.5, 6.5)):
            Rectangle(SKETCH26_W, SKETCH26_H)
    extrude(amount=BOSS_EXTRUDE15_DEPTH)

    # Sketch27 → Boss-Extrude16 (add)
    with BuildSketch(Plane.XZ.offset(6)):
        Polygon((0, 55), (60, 55), (60, -55), (0, -55), (-27, -55), (-27, 9), (0, 9), align=None)
    extrude(amount=BOSS_EXTRUDE16_DEPTH)

    # CSK for M4 Flat Head Machine Screw2
    with Locations(Plane(origin=(0, -6, 0), x_dir=(1, 0, 0), z_dir=(0, 1, 0))):
        with Locations((-13.5, 21.5), (30, 21.5), (30, -25)):
            CounterSinkHole(CSK_FOR_M4_FLAT_HEAD_MACHINE_SCREW2_D / 2, CSK_FOR_M4_FLAT_HEAD_MACHINE_SCREW2_CSINK_D / 2, depth=CSK_FOR_M4_FLAT_HEAD_MACHINE_SCREW2_DEPTH, counter_sink_angle=CSK_FOR_M4_FLAT_HEAD_MACHINE_SCREW2_CSINK_ANGLE)
            with Locations((0, 0, -(CSK_FOR_M4_FLAT_HEAD_MACHINE_SCREW2_DEPTH + CSK_FOR_M4_FLAT_HEAD_MACHINE_SCREW2_TIP / 2))):  # 118° drill point
                Cone(0, CSK_FOR_M4_FLAT_HEAD_MACHINE_SCREW2_D / 2, CSK_FOR_M4_FLAT_HEAD_MACHINE_SCREW2_TIP, mode=Mode.SUBTRACT)


solid = part.part
